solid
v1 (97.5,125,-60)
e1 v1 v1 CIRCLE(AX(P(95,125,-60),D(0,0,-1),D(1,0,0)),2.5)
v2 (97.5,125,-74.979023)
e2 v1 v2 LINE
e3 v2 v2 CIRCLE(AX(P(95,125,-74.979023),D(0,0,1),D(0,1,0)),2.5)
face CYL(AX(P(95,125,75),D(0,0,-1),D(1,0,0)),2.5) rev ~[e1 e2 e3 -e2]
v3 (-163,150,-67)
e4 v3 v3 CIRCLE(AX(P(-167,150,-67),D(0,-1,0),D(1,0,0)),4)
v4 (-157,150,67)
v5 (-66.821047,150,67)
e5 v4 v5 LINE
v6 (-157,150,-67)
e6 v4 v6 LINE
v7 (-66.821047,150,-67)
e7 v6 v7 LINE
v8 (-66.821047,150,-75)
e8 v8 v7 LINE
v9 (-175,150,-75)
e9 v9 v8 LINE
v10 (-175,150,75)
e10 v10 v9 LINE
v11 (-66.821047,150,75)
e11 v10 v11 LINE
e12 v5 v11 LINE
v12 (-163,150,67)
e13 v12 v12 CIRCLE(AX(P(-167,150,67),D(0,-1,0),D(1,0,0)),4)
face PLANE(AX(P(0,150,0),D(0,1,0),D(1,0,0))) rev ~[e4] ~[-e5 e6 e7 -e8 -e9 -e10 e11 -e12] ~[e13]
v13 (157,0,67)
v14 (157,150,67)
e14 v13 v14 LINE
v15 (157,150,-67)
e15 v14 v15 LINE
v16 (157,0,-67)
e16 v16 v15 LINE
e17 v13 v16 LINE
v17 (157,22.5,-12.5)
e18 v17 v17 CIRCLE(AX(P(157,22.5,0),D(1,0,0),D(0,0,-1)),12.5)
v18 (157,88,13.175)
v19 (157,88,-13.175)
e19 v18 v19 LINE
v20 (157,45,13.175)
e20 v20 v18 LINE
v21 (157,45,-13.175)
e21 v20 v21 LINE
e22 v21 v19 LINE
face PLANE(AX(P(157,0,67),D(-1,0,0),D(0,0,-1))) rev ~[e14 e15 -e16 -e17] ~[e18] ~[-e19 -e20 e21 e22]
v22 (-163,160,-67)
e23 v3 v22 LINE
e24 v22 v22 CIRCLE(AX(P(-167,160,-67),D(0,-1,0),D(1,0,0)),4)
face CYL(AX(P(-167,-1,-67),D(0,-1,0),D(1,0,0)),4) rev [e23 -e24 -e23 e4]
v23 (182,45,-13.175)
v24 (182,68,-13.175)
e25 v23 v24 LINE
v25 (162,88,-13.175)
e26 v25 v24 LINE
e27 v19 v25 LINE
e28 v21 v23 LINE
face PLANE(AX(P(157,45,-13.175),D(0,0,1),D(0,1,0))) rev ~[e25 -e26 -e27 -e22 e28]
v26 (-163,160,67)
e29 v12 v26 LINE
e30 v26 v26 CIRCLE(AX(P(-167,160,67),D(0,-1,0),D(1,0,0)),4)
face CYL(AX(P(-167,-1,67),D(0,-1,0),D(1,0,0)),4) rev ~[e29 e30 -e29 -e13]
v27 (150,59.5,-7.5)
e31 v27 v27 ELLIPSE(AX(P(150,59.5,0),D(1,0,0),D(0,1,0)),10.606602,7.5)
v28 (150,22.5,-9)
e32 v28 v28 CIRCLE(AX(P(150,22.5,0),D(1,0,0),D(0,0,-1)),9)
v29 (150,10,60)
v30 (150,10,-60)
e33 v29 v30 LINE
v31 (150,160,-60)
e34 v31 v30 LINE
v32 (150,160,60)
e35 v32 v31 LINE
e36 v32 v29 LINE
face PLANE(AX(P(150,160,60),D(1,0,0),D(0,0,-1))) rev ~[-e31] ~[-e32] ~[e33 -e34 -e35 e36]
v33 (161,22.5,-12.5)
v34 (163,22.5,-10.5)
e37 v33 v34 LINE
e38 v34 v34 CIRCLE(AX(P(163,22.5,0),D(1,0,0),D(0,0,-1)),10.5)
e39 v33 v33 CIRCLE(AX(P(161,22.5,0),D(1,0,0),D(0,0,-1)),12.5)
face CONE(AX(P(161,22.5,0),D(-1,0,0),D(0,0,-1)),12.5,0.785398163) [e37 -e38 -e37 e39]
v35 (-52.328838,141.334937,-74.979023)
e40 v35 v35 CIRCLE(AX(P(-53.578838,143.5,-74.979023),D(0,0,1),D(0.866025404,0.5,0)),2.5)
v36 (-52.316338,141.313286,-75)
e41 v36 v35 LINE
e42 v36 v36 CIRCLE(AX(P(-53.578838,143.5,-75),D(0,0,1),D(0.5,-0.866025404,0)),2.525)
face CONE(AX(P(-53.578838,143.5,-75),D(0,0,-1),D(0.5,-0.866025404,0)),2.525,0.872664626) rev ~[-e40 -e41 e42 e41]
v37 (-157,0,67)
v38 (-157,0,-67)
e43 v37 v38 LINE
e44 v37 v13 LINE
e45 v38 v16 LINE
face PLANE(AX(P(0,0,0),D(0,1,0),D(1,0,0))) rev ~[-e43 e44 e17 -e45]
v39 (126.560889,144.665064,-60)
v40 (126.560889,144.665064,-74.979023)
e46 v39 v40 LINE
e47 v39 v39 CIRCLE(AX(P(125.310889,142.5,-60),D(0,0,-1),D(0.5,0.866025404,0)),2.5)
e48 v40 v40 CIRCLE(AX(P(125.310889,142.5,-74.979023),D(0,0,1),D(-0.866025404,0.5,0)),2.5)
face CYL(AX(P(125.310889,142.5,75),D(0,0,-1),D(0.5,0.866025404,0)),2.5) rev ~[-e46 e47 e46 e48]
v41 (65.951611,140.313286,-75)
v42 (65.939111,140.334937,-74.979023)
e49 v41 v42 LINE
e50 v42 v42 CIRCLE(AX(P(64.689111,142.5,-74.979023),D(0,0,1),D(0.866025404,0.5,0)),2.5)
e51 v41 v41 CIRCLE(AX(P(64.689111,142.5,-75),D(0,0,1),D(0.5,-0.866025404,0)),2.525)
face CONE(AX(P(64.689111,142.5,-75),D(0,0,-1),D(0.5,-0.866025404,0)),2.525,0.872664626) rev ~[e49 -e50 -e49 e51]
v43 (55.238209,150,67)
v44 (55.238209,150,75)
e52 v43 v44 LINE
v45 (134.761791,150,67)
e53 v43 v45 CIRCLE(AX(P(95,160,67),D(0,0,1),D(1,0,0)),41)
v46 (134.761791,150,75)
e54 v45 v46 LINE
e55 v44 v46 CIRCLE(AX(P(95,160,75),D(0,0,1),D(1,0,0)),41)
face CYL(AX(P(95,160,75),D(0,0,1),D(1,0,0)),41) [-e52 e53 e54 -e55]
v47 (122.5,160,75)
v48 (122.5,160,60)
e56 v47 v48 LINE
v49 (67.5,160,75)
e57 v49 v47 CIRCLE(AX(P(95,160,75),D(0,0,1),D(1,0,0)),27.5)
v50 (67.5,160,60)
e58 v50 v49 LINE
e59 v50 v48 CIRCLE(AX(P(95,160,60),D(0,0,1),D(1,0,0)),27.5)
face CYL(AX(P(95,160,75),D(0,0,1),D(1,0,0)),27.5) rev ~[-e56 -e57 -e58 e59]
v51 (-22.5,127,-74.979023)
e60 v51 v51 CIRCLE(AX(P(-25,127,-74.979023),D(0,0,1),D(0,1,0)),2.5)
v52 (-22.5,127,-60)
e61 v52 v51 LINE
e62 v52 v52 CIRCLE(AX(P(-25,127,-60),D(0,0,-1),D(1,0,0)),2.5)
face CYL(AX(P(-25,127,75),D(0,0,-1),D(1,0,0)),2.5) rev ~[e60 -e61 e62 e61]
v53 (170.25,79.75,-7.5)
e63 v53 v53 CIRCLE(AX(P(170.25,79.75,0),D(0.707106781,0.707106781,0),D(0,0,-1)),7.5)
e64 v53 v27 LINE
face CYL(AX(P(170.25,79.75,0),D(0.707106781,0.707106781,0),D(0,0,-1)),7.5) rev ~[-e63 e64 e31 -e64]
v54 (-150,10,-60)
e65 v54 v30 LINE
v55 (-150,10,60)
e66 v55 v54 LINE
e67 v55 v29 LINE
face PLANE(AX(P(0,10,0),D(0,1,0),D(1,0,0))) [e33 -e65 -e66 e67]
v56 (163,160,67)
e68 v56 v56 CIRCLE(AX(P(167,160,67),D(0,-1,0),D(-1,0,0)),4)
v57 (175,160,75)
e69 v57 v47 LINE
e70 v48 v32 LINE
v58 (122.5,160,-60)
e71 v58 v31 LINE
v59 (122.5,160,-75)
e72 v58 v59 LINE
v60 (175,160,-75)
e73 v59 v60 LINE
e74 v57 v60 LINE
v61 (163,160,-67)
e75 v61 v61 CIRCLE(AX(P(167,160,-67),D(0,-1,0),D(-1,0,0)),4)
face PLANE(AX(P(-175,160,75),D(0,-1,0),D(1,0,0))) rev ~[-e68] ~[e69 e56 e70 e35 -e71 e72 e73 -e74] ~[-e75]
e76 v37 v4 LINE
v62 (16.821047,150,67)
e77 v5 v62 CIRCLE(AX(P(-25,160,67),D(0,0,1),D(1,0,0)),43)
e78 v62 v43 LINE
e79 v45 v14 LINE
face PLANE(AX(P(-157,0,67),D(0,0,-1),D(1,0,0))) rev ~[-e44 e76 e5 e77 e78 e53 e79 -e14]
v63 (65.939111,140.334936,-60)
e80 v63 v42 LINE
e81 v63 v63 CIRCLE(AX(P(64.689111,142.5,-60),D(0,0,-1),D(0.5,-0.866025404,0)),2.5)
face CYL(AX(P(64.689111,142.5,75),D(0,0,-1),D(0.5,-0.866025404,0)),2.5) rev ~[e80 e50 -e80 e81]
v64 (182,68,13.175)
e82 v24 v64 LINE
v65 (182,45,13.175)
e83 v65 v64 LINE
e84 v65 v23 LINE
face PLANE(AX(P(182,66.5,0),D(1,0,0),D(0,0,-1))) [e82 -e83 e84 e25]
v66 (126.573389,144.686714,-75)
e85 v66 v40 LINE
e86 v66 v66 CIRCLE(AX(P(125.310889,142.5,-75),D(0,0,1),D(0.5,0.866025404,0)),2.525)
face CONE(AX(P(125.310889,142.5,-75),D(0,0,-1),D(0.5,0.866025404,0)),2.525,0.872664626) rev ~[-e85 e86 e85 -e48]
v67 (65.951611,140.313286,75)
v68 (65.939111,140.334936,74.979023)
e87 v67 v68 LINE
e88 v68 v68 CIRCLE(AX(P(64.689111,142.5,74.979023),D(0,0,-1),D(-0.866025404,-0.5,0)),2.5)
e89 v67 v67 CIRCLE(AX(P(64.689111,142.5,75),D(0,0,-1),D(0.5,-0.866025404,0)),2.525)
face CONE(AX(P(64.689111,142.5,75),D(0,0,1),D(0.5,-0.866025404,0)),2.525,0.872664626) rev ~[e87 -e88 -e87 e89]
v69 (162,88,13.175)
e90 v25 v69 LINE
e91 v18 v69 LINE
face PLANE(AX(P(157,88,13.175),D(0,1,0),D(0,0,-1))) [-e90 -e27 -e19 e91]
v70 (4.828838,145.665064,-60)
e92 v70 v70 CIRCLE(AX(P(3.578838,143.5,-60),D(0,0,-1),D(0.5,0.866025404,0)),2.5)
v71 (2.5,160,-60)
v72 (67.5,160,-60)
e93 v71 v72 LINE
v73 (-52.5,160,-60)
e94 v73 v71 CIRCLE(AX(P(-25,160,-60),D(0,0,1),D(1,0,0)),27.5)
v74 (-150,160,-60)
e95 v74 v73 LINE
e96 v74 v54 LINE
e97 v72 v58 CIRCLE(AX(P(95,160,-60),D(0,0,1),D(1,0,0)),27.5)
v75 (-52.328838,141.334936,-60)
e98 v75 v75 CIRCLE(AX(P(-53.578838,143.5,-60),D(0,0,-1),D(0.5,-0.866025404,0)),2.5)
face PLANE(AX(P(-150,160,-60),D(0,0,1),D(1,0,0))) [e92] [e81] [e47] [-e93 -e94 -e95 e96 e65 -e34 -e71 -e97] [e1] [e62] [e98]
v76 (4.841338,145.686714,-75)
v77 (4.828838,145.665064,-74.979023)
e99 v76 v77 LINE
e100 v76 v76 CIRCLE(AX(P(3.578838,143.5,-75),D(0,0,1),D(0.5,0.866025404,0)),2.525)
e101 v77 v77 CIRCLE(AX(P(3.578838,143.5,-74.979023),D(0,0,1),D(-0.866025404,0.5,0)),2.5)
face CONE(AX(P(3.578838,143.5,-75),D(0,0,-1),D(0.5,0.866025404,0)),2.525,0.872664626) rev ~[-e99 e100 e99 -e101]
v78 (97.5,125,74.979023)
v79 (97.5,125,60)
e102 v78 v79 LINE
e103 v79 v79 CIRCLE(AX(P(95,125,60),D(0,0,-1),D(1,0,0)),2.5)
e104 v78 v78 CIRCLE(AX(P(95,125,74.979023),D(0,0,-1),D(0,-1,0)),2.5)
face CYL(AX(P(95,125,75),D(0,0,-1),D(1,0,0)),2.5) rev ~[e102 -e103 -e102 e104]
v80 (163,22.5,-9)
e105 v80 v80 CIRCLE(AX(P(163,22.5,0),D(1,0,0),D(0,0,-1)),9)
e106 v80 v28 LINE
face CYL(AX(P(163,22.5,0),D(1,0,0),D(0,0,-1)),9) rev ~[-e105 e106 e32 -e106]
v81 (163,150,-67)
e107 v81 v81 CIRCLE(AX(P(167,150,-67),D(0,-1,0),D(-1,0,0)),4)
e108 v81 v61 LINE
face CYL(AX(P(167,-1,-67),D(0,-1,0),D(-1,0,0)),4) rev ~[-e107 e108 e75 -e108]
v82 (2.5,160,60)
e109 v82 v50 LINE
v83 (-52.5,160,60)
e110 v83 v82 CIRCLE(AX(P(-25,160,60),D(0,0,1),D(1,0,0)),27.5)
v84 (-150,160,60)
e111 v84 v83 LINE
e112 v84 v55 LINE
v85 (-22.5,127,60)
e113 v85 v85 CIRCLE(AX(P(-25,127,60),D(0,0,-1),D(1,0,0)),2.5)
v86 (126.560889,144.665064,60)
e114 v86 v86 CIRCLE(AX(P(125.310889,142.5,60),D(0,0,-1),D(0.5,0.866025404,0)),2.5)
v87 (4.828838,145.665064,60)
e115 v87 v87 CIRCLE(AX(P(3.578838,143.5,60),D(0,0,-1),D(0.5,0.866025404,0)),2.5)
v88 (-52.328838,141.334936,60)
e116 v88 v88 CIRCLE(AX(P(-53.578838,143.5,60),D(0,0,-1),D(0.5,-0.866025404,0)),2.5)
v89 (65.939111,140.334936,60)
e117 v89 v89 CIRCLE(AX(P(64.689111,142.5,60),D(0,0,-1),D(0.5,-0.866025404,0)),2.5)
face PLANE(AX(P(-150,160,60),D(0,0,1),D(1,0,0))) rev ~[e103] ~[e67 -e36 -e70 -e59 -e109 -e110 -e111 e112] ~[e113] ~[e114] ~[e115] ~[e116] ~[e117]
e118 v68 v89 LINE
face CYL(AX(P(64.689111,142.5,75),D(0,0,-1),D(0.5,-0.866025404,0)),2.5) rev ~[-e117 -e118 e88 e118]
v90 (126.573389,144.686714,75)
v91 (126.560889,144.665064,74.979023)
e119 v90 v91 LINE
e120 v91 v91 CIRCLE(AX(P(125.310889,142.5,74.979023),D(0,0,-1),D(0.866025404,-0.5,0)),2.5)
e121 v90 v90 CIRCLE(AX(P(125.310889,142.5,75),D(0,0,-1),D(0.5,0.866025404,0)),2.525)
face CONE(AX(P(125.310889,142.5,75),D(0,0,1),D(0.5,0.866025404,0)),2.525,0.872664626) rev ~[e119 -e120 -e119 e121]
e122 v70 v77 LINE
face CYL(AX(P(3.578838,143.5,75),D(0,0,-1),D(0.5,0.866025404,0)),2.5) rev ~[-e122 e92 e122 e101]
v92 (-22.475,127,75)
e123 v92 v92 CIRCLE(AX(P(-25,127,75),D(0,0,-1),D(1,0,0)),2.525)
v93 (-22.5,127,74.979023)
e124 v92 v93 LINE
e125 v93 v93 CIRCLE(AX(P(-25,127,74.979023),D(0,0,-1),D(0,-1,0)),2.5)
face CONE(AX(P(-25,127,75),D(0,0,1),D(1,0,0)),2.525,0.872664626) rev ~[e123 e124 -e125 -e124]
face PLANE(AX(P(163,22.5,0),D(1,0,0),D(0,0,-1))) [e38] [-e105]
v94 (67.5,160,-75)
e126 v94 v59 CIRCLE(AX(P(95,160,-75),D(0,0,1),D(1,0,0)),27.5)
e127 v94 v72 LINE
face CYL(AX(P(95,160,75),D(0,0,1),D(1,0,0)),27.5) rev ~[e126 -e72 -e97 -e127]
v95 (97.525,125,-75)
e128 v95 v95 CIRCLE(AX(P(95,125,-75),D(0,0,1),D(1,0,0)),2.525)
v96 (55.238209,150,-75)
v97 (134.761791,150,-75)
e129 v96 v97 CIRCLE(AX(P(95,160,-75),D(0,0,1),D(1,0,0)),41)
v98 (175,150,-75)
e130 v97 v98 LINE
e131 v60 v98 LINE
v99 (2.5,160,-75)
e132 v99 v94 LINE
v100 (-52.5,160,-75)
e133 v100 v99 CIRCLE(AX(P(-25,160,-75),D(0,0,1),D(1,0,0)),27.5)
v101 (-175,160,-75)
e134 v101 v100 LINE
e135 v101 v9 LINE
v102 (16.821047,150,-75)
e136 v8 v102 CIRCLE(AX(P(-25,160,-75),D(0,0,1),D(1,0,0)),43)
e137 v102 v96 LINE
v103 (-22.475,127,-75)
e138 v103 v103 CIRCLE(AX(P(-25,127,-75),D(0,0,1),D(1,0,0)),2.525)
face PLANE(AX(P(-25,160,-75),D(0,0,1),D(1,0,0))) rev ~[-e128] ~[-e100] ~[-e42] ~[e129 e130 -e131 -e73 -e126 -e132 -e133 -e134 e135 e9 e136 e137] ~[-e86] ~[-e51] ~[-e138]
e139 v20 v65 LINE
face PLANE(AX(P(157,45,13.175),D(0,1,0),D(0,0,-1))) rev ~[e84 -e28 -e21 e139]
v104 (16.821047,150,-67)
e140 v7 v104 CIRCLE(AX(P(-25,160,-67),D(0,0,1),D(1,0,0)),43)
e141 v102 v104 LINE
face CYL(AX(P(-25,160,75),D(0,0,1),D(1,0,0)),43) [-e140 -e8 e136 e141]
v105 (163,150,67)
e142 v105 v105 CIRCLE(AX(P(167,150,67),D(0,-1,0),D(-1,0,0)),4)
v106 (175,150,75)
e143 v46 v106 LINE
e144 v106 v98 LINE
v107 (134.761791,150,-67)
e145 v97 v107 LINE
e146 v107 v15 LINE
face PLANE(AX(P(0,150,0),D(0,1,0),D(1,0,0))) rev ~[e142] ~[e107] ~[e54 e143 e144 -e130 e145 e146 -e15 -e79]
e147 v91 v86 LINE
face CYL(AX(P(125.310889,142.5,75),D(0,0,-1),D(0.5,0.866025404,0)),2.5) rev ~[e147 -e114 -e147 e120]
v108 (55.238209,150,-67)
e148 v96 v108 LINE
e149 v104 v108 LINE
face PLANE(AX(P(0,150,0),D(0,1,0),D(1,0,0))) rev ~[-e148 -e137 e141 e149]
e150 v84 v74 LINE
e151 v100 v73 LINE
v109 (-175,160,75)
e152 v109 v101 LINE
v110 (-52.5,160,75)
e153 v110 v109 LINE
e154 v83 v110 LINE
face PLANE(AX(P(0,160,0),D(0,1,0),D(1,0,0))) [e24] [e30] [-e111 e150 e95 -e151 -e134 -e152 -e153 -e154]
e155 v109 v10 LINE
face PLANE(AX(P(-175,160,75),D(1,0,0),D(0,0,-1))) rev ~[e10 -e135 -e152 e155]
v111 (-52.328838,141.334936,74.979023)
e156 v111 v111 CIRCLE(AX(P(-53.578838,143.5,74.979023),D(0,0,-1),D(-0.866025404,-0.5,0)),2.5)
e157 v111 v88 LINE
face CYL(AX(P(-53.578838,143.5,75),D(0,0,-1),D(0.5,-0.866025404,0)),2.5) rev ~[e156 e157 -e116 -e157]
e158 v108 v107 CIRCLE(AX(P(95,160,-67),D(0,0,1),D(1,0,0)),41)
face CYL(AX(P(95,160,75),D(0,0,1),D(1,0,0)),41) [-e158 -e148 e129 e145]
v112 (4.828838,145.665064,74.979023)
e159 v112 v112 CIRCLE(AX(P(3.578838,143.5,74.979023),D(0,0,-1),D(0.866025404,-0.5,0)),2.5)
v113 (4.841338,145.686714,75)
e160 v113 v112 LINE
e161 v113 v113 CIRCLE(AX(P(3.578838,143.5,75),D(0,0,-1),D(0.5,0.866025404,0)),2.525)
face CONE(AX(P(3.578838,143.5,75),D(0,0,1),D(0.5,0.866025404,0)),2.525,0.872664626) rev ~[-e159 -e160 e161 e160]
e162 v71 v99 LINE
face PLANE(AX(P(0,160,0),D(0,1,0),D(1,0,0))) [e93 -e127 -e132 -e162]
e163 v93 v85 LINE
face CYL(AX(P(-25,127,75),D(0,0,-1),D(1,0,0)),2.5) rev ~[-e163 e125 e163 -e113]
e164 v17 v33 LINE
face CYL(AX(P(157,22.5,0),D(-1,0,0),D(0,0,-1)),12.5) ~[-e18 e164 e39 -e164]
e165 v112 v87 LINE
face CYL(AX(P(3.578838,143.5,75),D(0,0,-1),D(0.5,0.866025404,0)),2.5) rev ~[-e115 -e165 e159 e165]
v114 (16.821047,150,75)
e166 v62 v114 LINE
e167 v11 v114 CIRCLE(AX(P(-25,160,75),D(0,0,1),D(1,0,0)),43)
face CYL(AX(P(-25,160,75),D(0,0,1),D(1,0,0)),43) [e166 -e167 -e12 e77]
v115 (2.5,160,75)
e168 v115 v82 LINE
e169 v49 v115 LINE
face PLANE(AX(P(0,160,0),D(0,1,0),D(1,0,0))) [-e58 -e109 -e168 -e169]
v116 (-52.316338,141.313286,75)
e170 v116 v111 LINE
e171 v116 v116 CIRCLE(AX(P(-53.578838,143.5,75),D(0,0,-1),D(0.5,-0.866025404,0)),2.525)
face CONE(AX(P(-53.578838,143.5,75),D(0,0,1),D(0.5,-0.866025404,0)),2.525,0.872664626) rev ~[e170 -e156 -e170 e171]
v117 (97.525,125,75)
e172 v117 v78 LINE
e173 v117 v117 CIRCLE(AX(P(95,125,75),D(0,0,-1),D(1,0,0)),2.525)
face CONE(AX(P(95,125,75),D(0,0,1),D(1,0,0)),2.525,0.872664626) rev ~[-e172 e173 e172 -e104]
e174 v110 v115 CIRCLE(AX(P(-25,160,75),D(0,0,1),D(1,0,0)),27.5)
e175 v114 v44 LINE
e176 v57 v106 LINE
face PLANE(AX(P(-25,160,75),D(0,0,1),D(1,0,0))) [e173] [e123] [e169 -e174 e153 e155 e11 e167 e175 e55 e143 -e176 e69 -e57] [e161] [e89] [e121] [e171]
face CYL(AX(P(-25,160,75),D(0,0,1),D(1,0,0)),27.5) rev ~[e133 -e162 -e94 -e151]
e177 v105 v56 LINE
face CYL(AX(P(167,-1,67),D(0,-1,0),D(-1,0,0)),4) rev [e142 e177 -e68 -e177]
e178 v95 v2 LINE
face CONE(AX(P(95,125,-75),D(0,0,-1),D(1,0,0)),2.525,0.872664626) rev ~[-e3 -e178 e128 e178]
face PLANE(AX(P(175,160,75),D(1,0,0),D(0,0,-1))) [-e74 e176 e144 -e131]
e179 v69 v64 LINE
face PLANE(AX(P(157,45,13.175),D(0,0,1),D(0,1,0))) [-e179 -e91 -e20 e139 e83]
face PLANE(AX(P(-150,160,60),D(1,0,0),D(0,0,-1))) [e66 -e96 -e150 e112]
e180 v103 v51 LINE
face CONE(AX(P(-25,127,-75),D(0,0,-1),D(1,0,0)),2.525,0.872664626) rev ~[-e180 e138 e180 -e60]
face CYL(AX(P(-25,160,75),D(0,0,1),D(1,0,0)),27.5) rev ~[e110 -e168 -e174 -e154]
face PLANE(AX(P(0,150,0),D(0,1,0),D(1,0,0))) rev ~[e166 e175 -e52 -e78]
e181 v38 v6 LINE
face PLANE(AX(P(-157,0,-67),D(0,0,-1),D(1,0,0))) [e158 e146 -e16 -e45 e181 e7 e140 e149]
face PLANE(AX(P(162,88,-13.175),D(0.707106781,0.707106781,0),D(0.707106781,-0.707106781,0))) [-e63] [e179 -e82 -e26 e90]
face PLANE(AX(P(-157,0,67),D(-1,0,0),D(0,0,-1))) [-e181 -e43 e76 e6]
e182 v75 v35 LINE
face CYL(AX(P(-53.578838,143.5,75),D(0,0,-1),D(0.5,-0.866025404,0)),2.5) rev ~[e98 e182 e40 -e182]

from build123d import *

# Parameters (mm, degrees)
SKETCH1_W                       = 314
SKETCH1_H                       = 134
BOSS_EXTRUDE1_DEPTH             = 160
SKETCH2_W                       = 350
SKETCH2_H                       = 150
BOSS_EXTRUDE3_DEPTH             = 10
SKETCH3_R                       = 41
BOSS_EXTRUDE5_DEPTH             = 150
F_5_0MM_DOWEL_HOLE1_D           = 5
F_5_0MM_DOWEL_HOLE1_CSINK_D     = 5.05
F_5_0MM_DOWEL_HOLE1_CSINK_ANGLE = 100
CIRPATTERN1_COUNT               = 6
SKETCH3_3_R                     = 27.5
CUT_EXTRUDE1_DEPTH              = 151
SKETCH6_R                       = 43
BOSS_EXTRUDE6_DEPTH             = 150
SKETCH6_3_R                     = 27.5
CUT_EXTRUDE2_DEPTH              = 151
F_5_0MM_DOWEL_HOLE2_D           = 5
F_5_0MM_DOWEL_HOLE2_CSINK_D     = 5.05
F_5_0MM_DOWEL_HOLE2_CSINK_ANGLE = 100
CIRPATTERN2_COUNT               = 6
MIRROR1_COPY_1_D                = 5
MIRROR1_COPY_1_CSINK_D          = 5.05
MIRROR1_COPY_1_CSINK_ANGLE      = 100
MIRROR1_COPY_2_D                = 5
MIRROR1_COPY_2_CSINK_D          = 5.05
MIRROR1_COPY_2_CSINK_ANGLE      = 100
MIRROR1_COPY_3_D                = 5
MIRROR1_COPY_3_CSINK_D          = 5.05
MIRROR1_COPY_3_CSINK_ANGLE      = 100
MIRROR1_COPY_4_D                = 5
MIRROR1_COPY_4_CSINK_D          = 5.05
MIRROR1_COPY_4_CSINK_ANGLE      = 100
MIRROR1_COPY_5_D                = 5
MIRROR1_COPY_5_CSINK_D          = 5.05
MIRROR1_COPY_5_CSINK_ANGLE      = 100
MIRROR2_COPY_1_D                = 5
MIRROR2_COPY_1_CSINK_D          = 5.05
MIRROR2_COPY_1_CSINK_ANGLE      = 100
MIRROR2_COPY_2_D                = 5
MIRROR2_COPY_2_CSINK_D          = 5.05
MIRROR2_COPY_2_CSINK_ANGLE      = 100
MIRROR2_COPY_3_D                = 5
MIRROR2_COPY_3_CSINK_D          = 5.05
MIRROR2_COPY_3_CSINK_ANGLE      = 100
MIRROR2_COPY_4_D                = 5
MIRROR2_COPY_4_CSINK_D          = 5.05
MIRROR2_COPY_4_CSINK_ANGLE      = 100
MIRROR2_COPY_5_D                = 5
MIRROR2_COPY_5_CSINK_D          = 5.05
MIRROR2_COPY_5_CSINK_ANGLE      = 100
SKETCH9_R                       = 12.5
BOSS_EXTRUDE7_DEPTH             = 6
CUT_EXTRUDE3_START              = 6
SKETCH9_3_R                     = 9
CUT_EXTRUDE3_DEPTH              = 30
CHAMFER1_SIZE                   = 2
SKETCH10_W                      = 26.35
SKETCH10_H                      = 43
BOSS_EXTRUDE8_DEPTH             = 25
CUT_EXTRUDE4_REACH              = 90.175
SKETCH12_R                      = 7.5
CUT_EXTRUDE5_DEPTH              = 50
CUT_EXTRUDE6_START              = -161
SKETCH13_R                      = 4
CUT_EXTRUDE6_DEPTH              = 205
MIRROR5_START                   = -161
MIRROR5_COPY_1_SKETCH_R         = 4
MIRROR5_COPY_1_DEPTH            = 205
MIRROR5_COPY_2_SKETCH_R         = 4
MIRROR5_COPY_2_DEPTH            = 205
SKETCH14_W                      = 364.166364604
SKETCH14_H                      = 92.820269588
CUT_EXTRUDE7_DEPTH              = 151
SKETCH15_W                      = 300
SKETCH15_H                      = 120
CUT_EXTRUDE9_DEPTH              = 150


with BuildPart() as part:
    # Sketch1 → Boss-Extrude1 (new body)
    with BuildSketch(Plane(origin=(0, 0, 0), x_dir=(1, 0, 0), z_dir=(0, 1, 0))):
        Rectangle(SKETCH1_W, SKETCH1_H)
    extrude(amount=BOSS_EXTRUDE1_DEPTH)

    # Sketch2 → Boss-Extrude3 (add)
    with BuildSketch(Plane(origin=(0, 160, 0), x_dir=(1, 0, 0), z_dir=(0, 1, 0))):
        Rectangle(SKETCH2_W, SKETCH2_H)
    extrude(amount=-BOSS_EXTRUDE3_DEPTH)

    # Sketch3 → Boss-Extrude5 (add, through all)
    with BuildSketch(Plane.XY.offset(75)):
        with Locations((95, 160)):
            Circle(SKETCH3_R)
    extrude(amount=-BOSS_EXTRUDE5_DEPTH)

    # Ø5.0mm Dowel Hole1 (through all)
    with Locations(Plane.XY.offset(75)):
        with Locations((95, 195)):
            f_5_0mm_dowel_hole1 = CounterSinkHole(F_5_0MM_DOWEL_HOLE1_D / 2, F_5_0MM_DOWEL_HOLE1_CSINK_D / 2, counter_sink_angle=F_5_0MM_DOWEL_HOLE1_CSINK_ANGLE)

    # CirPattern1: Ø5.0mm Dowel Hole1 ×6 about axis
    cirpattern1_axis = Axis((95, 160, 0), (0, 0, 1))
    for i in range(1, CIRPATTERN1_COUNT):
        add(f_5_0mm_dowel_hole1.rotate(cirpattern1_axis, i * 360 / CIRPATTERN1_COUNT), mode=Mode.SUBTRACT)

    # Sketch3<3> → Cut-Extrude1 (cut, through all)
    with BuildSketch(Plane.XY.offset(75)):
        with Locations((95, 160)):
            Circle(SKETCH3_3_R)
    extrude(amount=-CUT_EXTRUDE1_DEPTH, mode=Mode.SUBTRACT)

    # Sketch6 → Boss-Extrude6 (add, through all)
    with BuildSketch(Plane.XY.offset(75)):
        with Locations((-25, 160)):
            Circle(SKETCH6_R)
    extrude(amount=-BOSS_EXTRUDE6_DEPTH)

    # Sketch6<3> → Cut-Extrude2 (cut, through all)
    with BuildSketch(Plane.XY.offset(75)):
        with Locations((-25, 160)):
            Circle(SKETCH6_3_R)
    extrude(amount=-CUT_EXTRUDE2_DEPTH, mode=Mode.SUBTRACT)

    # Ø5.0mm Dowel Hole2 (through all)
    with Locations(Plane.XY.offset(75)):
        with Locations((-25, 193)):
            f_5_0mm_dowel_hole2 = CounterSinkHole(F_5_0MM_DOWEL_HOLE2_D / 2, F_5_0MM_DOWEL_HOLE2_CSINK_D / 2, counter_sink_angle=F_5_0MM_DOWEL_HOLE2_CSINK_ANGLE)

    # CirPattern2: Ø5.0mm Dowel Hole2 ×6 about axis
    cirpattern2_axis = Axis((-25, 160, 0), (0, 0, 1))
    for i in range(1, CIRPATTERN2_COUNT):
        add(f_5_0mm_dowel_hole2.rotate(cirpattern2_axis, i * 360 / CIRPATTERN2_COUNT), mode=Mode.SUBTRACT)

    # Mirror1: Ø5.0mm Dowel Hole2 across plane
    add(f_5_0mm_dowel_hole2.mirror(Plane.XY), mode=Mode.SUBTRACT)

    # Mirror1 copy 1 (through all)
    with Locations(Plane(origin=(126.064064606, 101.650635095, -75), x_dir=(0.5, 0.866025404, 0), z_dir=(0, 0, -1))):
        with Locations((-25, -193)):
            CounterSinkHole(MIRROR1_COPY_1_D / 2, MIRROR1_COPY_1_CSINK_D / 2, counter_sink_angle=MIRROR1_COPY_1_CSINK_ANGLE)

    # Mirror1 copy 2 (through all)
    with Locations(Plane(origin=(101.064064606, 261.650635095, -75), x_dir=(-0.5, 0.866025404, 0), z_dir=(0, 0, -1))):
        with Locations((-25, -193)):
            CounterSinkHole(MIRROR1_COPY_2_D / 2, MIRROR1_COPY_2_CSINK_D / 2, counter_sink_angle=MIRROR1_COPY_2_CSINK_ANGLE)

    # Mirror1 copy 3 (through all)
    with Locations(Plane(origin=(-50, 320, -75), x_dir=(-1, 0, 0), z_dir=(0, 0, -1))):
        with Locations((-25, -193)):
            CounterSinkHole(MIRROR1_COPY_3_D / 2, MIRROR1_COPY_3_CSINK_D / 2, counter_sink_angle=MIRROR1_COPY_3_CSINK_ANGLE)

    # Mirror1 copy 4 (through all)
    with Locations(Plane(origin=(-176.064064606, 218.349364905, -75), x_dir=(-0.5, -0.866025404, 0), z_dir=(0, 0, -1))):
        with Locations((-25, -193)):
            CounterSinkHole(MIRROR1_COPY_4_D / 2, MIRROR1_COPY_4_CSINK_D / 2, counter_sink_angle=MIRROR1_COPY_4_CSINK_ANGLE)

    # Mirror1 copy 5 (through all)
    with Locations(Plane(origin=(-151.064064606, 58.349364905, -75), x_dir=(0.5, -0.866025404, 0), z_dir=(0, 0, -1))):
        with Locations((-25, -193)):
            CounterSinkHole(MIRROR1_COPY_5_D / 2, MIRROR1_COPY_5_CSINK_D / 2, counter_sink_angle=MIRROR1_COPY_5_CSINK_ANGLE)

    # Mirror2: Ø5.0mm Dowel Hole1 across plane
    add(f_5_0mm_dowel_hole1.mirror(Plane.XY), mode=Mode.SUBTRACT)

    # Mirror2 copy 1 (through all)
    with Locations(Plane(origin=(186.064064606, -2.27241336, -75), x_dir=(0.5, 0.866025404, 0), z_dir=(0, 0, -1))):
        with Locations((95, -195)):
            CounterSinkHole(MIRROR2_COPY_1_D / 2, MIRROR2_COPY_1_CSINK_D / 2, counter_sink_angle=MIRROR2_COPY_1_CSINK_ANGLE)

    # Mirror2 copy 2 (through all)
    with Locations(Plane(origin=(281.064064606, 157.72758664, -75), x_dir=(-0.5, 0.866025404, 0), z_dir=(0, 0, -1))):
        with Locations((95, -195)):
            CounterSinkHole(MIRROR2_COPY_2_D / 2, MIRROR2_COPY_2_CSINK_D / 2, counter_sink_angle=MIRROR2_COPY_2_CSINK_ANGLE)

    # Mirror2 copy 3 (through all)
    with Locations(Plane(origin=(190, 320, -75), x_dir=(-1, 0, 0), z_dir=(0, 0, -1))):
        with Locations((95, -195)):
            CounterSinkHole(MIRROR2_COPY_3_D / 2, MIRROR2_COPY_3_CSINK_D / 2, counter_sink_angle=MIRROR2_COPY_3_CSINK_ANGLE)

    # Mirror2 copy 4 (through all)
    with Locations(Plane(origin=(3.935935394, 322.27241336, -75), x_dir=(-0.5, -0.866025404, 0), z_dir=(0, 0, -1))):
        with Locations((95, -195)):
            CounterSinkHole(MIRROR2_COPY_4_D / 2, MIRROR2_COPY_4_CSINK_D / 2, counter_sink_angle=MIRROR2_COPY_4_CSINK_ANGLE)

    # Mirror2 copy 5 (through all)
    with Locations(Plane(origin=(-91.064064606, 162.27241336, -75), x_dir=(0.5, -0.866025404, 0), z_dir=(0, 0, -1))):
        with Locations((95, -195)):
            CounterSinkHole(MIRROR2_COPY_5_D / 2, MIRROR2_COPY_5_CSINK_D / 2, counter_sink_angle=MIRROR2_COPY_5_CSINK_ANGLE)

    # Sketch9 → Boss-Extrude7 (add)
    with BuildSketch(Plane(origin=(157, 0, 0), x_dir=(0, 0, -1), z_dir=(1, 0, 0))):
        with Locations((0, 22.5)):
            Circle(SKETCH9_R)
    extrude(amount=BOSS_EXTRUDE7_DEPTH)

    # Sketch9<3> → Cut-Extrude3 (cut)
    with BuildSketch(Plane(origin=(157, 0, 0), x_dir=(0, 0, -1), z_dir=(1, 0, 0)).offset(CUT_EXTRUDE3_START)):
        with Locations((0, 22.5)):
            Circle(SKETCH9_3_R)
    extrude(amount=-CUT_EXTRUDE3_DEPTH, mode=Mode.SUBTRACT)

    # Chamfer1
    chamfer1_edges = [part.edges().sort_by_distance(p)[0] for p in [
        (163, 22.5, 12.5),
    ]]
    chamfer(chamfer1_edges, length=CHAMFER1_SIZE)

    # Sketch10 → Boss-Extrude8 (add)
    with BuildSketch(Plane(origin=(157, 0, 0), x_dir=(0, 0, -1), z_dir=(1, 0, 0))):
        with Locations((0, 66.5)):
            Rectangle(SKETCH10_W, SKETCH10_H)
    extrude(amount=BOSS_EXTRUDE8_DEPTH)

    # Sketch11 → Cut-Extrude4 (cut, up to next)
    with BuildSketch(Plane(origin=(0, 0, -13.175), x_dir=(-1, 0, 0), z_dir=(0, 0, -1)), mode=Mode.PRIVATE) as cut_extrude4_sk1:
        Polygon((-162, 88), (-182, 68), (-200.649139224, 72.819299993), (-183.741650688, 106.337654458), align=None)
    cut_extrude4_tool1 = extrude(cut_extrude4_sk1.sketch, amount=-CUT_EXTRUDE4_REACH, mode=Mode.PRIVATE) & part.part
    add(cut_extrude4_tool1.solids().sort_by_distance((181.949584, 85.075168, -13.175))[0], mode=Mode.SUBTRACT)

    # Sketch12 → Cut-Extrude5 (cut)
    with BuildSketch(Plane(origin=(125, 125, 0), x_dir=(0, 0, -1), z_dir=(0.707106781, 0.707106781, 0))):
        with Locations((0, -63.993163697)):
            Circle(SKETCH12_R)
    extrude(amount=-CUT_EXTRUDE5_DEPTH, mode=Mode.SUBTRACT)

    # Sketch13 → Cut-Extrude6 (cut)
    with BuildSketch(Plane(origin=(0, 160, 0), x_dir=(1, 0, 0), z_dir=(0, 1, 0)).offset(CUT_EXTRUDE6_START)):
        with Locations((-167, 67)):
            Circle(SKETCH13_R)
    cut_extrude6 = extrude(amount=CUT_EXTRUDE6_DEPTH, mode=Mode.SUBTRACT)

    # Mirror3: Cut-Extrude6 across plane
    add(cut_extrude6.mirror(Plane(origin=(0, 0, 0), x_dir=(0, 0, 1), z_dir=(1, 0, 0))), mode=Mode.SUBTRACT)

    # Mirror4: Cut-Extrude6 across plane
    add(cut_extrude6.mirror(Plane.XY), mode=Mode.SUBTRACT)

    # Mirror5 copy 1 sketch → Mirror5 copy 1 (cut)
    with BuildSketch(Plane(origin=(0, 160, 0), x_dir=(-1, 0, 0), z_dir=(0, 1, 0)).offset(MIRROR5_START)):
        with Locations((-167, 67)):
            Circle(MIRROR5_COPY_1_SKETCH_R)
    extrude(amount=MIRROR5_COPY_1_DEPTH, mode=Mode.SUBTRACT)

    # Mirror5 copy 2 sketch → Mirror5 copy 2 (cut)
    with BuildSketch(Plane(origin=(0, 160, 0), x_dir=(1, 0, 0), z_dir=(0, 1, 0)).offset(MIRROR5_START)):
        with Locations((-167, -67)):
            Circle(MIRROR5_COPY_2_SKETCH_R)
    extrude(amount=MIRROR5_COPY_2_DEPTH, mode=Mode.SUBTRACT)

    # Sketch14 → Cut-Extrude7 (cut, through all)
    with BuildSketch(Plane.XY.offset(75)):
        with Locations((7.083182302, 206.410134794)):
            Rectangle(SKETCH14_W, SKETCH14_H)
    extrude(amount=-CUT_EXTRUDE7_DEPTH, mode=Mode.SUBTRACT)

    # Sketch15 → Cut-Extrude9 (cut)
    with BuildSketch(Plane(origin=(0, 160, 0), x_dir=(1, 0, 0), z_dir=(0, 1, 0))):
        Rectangle(SKETCH15_W, SKETCH15_H)
    extrude(amount=-CUT_EXTRUDE9_DEPTH, mode=Mode.SUBTRACT)


solid = part.part
